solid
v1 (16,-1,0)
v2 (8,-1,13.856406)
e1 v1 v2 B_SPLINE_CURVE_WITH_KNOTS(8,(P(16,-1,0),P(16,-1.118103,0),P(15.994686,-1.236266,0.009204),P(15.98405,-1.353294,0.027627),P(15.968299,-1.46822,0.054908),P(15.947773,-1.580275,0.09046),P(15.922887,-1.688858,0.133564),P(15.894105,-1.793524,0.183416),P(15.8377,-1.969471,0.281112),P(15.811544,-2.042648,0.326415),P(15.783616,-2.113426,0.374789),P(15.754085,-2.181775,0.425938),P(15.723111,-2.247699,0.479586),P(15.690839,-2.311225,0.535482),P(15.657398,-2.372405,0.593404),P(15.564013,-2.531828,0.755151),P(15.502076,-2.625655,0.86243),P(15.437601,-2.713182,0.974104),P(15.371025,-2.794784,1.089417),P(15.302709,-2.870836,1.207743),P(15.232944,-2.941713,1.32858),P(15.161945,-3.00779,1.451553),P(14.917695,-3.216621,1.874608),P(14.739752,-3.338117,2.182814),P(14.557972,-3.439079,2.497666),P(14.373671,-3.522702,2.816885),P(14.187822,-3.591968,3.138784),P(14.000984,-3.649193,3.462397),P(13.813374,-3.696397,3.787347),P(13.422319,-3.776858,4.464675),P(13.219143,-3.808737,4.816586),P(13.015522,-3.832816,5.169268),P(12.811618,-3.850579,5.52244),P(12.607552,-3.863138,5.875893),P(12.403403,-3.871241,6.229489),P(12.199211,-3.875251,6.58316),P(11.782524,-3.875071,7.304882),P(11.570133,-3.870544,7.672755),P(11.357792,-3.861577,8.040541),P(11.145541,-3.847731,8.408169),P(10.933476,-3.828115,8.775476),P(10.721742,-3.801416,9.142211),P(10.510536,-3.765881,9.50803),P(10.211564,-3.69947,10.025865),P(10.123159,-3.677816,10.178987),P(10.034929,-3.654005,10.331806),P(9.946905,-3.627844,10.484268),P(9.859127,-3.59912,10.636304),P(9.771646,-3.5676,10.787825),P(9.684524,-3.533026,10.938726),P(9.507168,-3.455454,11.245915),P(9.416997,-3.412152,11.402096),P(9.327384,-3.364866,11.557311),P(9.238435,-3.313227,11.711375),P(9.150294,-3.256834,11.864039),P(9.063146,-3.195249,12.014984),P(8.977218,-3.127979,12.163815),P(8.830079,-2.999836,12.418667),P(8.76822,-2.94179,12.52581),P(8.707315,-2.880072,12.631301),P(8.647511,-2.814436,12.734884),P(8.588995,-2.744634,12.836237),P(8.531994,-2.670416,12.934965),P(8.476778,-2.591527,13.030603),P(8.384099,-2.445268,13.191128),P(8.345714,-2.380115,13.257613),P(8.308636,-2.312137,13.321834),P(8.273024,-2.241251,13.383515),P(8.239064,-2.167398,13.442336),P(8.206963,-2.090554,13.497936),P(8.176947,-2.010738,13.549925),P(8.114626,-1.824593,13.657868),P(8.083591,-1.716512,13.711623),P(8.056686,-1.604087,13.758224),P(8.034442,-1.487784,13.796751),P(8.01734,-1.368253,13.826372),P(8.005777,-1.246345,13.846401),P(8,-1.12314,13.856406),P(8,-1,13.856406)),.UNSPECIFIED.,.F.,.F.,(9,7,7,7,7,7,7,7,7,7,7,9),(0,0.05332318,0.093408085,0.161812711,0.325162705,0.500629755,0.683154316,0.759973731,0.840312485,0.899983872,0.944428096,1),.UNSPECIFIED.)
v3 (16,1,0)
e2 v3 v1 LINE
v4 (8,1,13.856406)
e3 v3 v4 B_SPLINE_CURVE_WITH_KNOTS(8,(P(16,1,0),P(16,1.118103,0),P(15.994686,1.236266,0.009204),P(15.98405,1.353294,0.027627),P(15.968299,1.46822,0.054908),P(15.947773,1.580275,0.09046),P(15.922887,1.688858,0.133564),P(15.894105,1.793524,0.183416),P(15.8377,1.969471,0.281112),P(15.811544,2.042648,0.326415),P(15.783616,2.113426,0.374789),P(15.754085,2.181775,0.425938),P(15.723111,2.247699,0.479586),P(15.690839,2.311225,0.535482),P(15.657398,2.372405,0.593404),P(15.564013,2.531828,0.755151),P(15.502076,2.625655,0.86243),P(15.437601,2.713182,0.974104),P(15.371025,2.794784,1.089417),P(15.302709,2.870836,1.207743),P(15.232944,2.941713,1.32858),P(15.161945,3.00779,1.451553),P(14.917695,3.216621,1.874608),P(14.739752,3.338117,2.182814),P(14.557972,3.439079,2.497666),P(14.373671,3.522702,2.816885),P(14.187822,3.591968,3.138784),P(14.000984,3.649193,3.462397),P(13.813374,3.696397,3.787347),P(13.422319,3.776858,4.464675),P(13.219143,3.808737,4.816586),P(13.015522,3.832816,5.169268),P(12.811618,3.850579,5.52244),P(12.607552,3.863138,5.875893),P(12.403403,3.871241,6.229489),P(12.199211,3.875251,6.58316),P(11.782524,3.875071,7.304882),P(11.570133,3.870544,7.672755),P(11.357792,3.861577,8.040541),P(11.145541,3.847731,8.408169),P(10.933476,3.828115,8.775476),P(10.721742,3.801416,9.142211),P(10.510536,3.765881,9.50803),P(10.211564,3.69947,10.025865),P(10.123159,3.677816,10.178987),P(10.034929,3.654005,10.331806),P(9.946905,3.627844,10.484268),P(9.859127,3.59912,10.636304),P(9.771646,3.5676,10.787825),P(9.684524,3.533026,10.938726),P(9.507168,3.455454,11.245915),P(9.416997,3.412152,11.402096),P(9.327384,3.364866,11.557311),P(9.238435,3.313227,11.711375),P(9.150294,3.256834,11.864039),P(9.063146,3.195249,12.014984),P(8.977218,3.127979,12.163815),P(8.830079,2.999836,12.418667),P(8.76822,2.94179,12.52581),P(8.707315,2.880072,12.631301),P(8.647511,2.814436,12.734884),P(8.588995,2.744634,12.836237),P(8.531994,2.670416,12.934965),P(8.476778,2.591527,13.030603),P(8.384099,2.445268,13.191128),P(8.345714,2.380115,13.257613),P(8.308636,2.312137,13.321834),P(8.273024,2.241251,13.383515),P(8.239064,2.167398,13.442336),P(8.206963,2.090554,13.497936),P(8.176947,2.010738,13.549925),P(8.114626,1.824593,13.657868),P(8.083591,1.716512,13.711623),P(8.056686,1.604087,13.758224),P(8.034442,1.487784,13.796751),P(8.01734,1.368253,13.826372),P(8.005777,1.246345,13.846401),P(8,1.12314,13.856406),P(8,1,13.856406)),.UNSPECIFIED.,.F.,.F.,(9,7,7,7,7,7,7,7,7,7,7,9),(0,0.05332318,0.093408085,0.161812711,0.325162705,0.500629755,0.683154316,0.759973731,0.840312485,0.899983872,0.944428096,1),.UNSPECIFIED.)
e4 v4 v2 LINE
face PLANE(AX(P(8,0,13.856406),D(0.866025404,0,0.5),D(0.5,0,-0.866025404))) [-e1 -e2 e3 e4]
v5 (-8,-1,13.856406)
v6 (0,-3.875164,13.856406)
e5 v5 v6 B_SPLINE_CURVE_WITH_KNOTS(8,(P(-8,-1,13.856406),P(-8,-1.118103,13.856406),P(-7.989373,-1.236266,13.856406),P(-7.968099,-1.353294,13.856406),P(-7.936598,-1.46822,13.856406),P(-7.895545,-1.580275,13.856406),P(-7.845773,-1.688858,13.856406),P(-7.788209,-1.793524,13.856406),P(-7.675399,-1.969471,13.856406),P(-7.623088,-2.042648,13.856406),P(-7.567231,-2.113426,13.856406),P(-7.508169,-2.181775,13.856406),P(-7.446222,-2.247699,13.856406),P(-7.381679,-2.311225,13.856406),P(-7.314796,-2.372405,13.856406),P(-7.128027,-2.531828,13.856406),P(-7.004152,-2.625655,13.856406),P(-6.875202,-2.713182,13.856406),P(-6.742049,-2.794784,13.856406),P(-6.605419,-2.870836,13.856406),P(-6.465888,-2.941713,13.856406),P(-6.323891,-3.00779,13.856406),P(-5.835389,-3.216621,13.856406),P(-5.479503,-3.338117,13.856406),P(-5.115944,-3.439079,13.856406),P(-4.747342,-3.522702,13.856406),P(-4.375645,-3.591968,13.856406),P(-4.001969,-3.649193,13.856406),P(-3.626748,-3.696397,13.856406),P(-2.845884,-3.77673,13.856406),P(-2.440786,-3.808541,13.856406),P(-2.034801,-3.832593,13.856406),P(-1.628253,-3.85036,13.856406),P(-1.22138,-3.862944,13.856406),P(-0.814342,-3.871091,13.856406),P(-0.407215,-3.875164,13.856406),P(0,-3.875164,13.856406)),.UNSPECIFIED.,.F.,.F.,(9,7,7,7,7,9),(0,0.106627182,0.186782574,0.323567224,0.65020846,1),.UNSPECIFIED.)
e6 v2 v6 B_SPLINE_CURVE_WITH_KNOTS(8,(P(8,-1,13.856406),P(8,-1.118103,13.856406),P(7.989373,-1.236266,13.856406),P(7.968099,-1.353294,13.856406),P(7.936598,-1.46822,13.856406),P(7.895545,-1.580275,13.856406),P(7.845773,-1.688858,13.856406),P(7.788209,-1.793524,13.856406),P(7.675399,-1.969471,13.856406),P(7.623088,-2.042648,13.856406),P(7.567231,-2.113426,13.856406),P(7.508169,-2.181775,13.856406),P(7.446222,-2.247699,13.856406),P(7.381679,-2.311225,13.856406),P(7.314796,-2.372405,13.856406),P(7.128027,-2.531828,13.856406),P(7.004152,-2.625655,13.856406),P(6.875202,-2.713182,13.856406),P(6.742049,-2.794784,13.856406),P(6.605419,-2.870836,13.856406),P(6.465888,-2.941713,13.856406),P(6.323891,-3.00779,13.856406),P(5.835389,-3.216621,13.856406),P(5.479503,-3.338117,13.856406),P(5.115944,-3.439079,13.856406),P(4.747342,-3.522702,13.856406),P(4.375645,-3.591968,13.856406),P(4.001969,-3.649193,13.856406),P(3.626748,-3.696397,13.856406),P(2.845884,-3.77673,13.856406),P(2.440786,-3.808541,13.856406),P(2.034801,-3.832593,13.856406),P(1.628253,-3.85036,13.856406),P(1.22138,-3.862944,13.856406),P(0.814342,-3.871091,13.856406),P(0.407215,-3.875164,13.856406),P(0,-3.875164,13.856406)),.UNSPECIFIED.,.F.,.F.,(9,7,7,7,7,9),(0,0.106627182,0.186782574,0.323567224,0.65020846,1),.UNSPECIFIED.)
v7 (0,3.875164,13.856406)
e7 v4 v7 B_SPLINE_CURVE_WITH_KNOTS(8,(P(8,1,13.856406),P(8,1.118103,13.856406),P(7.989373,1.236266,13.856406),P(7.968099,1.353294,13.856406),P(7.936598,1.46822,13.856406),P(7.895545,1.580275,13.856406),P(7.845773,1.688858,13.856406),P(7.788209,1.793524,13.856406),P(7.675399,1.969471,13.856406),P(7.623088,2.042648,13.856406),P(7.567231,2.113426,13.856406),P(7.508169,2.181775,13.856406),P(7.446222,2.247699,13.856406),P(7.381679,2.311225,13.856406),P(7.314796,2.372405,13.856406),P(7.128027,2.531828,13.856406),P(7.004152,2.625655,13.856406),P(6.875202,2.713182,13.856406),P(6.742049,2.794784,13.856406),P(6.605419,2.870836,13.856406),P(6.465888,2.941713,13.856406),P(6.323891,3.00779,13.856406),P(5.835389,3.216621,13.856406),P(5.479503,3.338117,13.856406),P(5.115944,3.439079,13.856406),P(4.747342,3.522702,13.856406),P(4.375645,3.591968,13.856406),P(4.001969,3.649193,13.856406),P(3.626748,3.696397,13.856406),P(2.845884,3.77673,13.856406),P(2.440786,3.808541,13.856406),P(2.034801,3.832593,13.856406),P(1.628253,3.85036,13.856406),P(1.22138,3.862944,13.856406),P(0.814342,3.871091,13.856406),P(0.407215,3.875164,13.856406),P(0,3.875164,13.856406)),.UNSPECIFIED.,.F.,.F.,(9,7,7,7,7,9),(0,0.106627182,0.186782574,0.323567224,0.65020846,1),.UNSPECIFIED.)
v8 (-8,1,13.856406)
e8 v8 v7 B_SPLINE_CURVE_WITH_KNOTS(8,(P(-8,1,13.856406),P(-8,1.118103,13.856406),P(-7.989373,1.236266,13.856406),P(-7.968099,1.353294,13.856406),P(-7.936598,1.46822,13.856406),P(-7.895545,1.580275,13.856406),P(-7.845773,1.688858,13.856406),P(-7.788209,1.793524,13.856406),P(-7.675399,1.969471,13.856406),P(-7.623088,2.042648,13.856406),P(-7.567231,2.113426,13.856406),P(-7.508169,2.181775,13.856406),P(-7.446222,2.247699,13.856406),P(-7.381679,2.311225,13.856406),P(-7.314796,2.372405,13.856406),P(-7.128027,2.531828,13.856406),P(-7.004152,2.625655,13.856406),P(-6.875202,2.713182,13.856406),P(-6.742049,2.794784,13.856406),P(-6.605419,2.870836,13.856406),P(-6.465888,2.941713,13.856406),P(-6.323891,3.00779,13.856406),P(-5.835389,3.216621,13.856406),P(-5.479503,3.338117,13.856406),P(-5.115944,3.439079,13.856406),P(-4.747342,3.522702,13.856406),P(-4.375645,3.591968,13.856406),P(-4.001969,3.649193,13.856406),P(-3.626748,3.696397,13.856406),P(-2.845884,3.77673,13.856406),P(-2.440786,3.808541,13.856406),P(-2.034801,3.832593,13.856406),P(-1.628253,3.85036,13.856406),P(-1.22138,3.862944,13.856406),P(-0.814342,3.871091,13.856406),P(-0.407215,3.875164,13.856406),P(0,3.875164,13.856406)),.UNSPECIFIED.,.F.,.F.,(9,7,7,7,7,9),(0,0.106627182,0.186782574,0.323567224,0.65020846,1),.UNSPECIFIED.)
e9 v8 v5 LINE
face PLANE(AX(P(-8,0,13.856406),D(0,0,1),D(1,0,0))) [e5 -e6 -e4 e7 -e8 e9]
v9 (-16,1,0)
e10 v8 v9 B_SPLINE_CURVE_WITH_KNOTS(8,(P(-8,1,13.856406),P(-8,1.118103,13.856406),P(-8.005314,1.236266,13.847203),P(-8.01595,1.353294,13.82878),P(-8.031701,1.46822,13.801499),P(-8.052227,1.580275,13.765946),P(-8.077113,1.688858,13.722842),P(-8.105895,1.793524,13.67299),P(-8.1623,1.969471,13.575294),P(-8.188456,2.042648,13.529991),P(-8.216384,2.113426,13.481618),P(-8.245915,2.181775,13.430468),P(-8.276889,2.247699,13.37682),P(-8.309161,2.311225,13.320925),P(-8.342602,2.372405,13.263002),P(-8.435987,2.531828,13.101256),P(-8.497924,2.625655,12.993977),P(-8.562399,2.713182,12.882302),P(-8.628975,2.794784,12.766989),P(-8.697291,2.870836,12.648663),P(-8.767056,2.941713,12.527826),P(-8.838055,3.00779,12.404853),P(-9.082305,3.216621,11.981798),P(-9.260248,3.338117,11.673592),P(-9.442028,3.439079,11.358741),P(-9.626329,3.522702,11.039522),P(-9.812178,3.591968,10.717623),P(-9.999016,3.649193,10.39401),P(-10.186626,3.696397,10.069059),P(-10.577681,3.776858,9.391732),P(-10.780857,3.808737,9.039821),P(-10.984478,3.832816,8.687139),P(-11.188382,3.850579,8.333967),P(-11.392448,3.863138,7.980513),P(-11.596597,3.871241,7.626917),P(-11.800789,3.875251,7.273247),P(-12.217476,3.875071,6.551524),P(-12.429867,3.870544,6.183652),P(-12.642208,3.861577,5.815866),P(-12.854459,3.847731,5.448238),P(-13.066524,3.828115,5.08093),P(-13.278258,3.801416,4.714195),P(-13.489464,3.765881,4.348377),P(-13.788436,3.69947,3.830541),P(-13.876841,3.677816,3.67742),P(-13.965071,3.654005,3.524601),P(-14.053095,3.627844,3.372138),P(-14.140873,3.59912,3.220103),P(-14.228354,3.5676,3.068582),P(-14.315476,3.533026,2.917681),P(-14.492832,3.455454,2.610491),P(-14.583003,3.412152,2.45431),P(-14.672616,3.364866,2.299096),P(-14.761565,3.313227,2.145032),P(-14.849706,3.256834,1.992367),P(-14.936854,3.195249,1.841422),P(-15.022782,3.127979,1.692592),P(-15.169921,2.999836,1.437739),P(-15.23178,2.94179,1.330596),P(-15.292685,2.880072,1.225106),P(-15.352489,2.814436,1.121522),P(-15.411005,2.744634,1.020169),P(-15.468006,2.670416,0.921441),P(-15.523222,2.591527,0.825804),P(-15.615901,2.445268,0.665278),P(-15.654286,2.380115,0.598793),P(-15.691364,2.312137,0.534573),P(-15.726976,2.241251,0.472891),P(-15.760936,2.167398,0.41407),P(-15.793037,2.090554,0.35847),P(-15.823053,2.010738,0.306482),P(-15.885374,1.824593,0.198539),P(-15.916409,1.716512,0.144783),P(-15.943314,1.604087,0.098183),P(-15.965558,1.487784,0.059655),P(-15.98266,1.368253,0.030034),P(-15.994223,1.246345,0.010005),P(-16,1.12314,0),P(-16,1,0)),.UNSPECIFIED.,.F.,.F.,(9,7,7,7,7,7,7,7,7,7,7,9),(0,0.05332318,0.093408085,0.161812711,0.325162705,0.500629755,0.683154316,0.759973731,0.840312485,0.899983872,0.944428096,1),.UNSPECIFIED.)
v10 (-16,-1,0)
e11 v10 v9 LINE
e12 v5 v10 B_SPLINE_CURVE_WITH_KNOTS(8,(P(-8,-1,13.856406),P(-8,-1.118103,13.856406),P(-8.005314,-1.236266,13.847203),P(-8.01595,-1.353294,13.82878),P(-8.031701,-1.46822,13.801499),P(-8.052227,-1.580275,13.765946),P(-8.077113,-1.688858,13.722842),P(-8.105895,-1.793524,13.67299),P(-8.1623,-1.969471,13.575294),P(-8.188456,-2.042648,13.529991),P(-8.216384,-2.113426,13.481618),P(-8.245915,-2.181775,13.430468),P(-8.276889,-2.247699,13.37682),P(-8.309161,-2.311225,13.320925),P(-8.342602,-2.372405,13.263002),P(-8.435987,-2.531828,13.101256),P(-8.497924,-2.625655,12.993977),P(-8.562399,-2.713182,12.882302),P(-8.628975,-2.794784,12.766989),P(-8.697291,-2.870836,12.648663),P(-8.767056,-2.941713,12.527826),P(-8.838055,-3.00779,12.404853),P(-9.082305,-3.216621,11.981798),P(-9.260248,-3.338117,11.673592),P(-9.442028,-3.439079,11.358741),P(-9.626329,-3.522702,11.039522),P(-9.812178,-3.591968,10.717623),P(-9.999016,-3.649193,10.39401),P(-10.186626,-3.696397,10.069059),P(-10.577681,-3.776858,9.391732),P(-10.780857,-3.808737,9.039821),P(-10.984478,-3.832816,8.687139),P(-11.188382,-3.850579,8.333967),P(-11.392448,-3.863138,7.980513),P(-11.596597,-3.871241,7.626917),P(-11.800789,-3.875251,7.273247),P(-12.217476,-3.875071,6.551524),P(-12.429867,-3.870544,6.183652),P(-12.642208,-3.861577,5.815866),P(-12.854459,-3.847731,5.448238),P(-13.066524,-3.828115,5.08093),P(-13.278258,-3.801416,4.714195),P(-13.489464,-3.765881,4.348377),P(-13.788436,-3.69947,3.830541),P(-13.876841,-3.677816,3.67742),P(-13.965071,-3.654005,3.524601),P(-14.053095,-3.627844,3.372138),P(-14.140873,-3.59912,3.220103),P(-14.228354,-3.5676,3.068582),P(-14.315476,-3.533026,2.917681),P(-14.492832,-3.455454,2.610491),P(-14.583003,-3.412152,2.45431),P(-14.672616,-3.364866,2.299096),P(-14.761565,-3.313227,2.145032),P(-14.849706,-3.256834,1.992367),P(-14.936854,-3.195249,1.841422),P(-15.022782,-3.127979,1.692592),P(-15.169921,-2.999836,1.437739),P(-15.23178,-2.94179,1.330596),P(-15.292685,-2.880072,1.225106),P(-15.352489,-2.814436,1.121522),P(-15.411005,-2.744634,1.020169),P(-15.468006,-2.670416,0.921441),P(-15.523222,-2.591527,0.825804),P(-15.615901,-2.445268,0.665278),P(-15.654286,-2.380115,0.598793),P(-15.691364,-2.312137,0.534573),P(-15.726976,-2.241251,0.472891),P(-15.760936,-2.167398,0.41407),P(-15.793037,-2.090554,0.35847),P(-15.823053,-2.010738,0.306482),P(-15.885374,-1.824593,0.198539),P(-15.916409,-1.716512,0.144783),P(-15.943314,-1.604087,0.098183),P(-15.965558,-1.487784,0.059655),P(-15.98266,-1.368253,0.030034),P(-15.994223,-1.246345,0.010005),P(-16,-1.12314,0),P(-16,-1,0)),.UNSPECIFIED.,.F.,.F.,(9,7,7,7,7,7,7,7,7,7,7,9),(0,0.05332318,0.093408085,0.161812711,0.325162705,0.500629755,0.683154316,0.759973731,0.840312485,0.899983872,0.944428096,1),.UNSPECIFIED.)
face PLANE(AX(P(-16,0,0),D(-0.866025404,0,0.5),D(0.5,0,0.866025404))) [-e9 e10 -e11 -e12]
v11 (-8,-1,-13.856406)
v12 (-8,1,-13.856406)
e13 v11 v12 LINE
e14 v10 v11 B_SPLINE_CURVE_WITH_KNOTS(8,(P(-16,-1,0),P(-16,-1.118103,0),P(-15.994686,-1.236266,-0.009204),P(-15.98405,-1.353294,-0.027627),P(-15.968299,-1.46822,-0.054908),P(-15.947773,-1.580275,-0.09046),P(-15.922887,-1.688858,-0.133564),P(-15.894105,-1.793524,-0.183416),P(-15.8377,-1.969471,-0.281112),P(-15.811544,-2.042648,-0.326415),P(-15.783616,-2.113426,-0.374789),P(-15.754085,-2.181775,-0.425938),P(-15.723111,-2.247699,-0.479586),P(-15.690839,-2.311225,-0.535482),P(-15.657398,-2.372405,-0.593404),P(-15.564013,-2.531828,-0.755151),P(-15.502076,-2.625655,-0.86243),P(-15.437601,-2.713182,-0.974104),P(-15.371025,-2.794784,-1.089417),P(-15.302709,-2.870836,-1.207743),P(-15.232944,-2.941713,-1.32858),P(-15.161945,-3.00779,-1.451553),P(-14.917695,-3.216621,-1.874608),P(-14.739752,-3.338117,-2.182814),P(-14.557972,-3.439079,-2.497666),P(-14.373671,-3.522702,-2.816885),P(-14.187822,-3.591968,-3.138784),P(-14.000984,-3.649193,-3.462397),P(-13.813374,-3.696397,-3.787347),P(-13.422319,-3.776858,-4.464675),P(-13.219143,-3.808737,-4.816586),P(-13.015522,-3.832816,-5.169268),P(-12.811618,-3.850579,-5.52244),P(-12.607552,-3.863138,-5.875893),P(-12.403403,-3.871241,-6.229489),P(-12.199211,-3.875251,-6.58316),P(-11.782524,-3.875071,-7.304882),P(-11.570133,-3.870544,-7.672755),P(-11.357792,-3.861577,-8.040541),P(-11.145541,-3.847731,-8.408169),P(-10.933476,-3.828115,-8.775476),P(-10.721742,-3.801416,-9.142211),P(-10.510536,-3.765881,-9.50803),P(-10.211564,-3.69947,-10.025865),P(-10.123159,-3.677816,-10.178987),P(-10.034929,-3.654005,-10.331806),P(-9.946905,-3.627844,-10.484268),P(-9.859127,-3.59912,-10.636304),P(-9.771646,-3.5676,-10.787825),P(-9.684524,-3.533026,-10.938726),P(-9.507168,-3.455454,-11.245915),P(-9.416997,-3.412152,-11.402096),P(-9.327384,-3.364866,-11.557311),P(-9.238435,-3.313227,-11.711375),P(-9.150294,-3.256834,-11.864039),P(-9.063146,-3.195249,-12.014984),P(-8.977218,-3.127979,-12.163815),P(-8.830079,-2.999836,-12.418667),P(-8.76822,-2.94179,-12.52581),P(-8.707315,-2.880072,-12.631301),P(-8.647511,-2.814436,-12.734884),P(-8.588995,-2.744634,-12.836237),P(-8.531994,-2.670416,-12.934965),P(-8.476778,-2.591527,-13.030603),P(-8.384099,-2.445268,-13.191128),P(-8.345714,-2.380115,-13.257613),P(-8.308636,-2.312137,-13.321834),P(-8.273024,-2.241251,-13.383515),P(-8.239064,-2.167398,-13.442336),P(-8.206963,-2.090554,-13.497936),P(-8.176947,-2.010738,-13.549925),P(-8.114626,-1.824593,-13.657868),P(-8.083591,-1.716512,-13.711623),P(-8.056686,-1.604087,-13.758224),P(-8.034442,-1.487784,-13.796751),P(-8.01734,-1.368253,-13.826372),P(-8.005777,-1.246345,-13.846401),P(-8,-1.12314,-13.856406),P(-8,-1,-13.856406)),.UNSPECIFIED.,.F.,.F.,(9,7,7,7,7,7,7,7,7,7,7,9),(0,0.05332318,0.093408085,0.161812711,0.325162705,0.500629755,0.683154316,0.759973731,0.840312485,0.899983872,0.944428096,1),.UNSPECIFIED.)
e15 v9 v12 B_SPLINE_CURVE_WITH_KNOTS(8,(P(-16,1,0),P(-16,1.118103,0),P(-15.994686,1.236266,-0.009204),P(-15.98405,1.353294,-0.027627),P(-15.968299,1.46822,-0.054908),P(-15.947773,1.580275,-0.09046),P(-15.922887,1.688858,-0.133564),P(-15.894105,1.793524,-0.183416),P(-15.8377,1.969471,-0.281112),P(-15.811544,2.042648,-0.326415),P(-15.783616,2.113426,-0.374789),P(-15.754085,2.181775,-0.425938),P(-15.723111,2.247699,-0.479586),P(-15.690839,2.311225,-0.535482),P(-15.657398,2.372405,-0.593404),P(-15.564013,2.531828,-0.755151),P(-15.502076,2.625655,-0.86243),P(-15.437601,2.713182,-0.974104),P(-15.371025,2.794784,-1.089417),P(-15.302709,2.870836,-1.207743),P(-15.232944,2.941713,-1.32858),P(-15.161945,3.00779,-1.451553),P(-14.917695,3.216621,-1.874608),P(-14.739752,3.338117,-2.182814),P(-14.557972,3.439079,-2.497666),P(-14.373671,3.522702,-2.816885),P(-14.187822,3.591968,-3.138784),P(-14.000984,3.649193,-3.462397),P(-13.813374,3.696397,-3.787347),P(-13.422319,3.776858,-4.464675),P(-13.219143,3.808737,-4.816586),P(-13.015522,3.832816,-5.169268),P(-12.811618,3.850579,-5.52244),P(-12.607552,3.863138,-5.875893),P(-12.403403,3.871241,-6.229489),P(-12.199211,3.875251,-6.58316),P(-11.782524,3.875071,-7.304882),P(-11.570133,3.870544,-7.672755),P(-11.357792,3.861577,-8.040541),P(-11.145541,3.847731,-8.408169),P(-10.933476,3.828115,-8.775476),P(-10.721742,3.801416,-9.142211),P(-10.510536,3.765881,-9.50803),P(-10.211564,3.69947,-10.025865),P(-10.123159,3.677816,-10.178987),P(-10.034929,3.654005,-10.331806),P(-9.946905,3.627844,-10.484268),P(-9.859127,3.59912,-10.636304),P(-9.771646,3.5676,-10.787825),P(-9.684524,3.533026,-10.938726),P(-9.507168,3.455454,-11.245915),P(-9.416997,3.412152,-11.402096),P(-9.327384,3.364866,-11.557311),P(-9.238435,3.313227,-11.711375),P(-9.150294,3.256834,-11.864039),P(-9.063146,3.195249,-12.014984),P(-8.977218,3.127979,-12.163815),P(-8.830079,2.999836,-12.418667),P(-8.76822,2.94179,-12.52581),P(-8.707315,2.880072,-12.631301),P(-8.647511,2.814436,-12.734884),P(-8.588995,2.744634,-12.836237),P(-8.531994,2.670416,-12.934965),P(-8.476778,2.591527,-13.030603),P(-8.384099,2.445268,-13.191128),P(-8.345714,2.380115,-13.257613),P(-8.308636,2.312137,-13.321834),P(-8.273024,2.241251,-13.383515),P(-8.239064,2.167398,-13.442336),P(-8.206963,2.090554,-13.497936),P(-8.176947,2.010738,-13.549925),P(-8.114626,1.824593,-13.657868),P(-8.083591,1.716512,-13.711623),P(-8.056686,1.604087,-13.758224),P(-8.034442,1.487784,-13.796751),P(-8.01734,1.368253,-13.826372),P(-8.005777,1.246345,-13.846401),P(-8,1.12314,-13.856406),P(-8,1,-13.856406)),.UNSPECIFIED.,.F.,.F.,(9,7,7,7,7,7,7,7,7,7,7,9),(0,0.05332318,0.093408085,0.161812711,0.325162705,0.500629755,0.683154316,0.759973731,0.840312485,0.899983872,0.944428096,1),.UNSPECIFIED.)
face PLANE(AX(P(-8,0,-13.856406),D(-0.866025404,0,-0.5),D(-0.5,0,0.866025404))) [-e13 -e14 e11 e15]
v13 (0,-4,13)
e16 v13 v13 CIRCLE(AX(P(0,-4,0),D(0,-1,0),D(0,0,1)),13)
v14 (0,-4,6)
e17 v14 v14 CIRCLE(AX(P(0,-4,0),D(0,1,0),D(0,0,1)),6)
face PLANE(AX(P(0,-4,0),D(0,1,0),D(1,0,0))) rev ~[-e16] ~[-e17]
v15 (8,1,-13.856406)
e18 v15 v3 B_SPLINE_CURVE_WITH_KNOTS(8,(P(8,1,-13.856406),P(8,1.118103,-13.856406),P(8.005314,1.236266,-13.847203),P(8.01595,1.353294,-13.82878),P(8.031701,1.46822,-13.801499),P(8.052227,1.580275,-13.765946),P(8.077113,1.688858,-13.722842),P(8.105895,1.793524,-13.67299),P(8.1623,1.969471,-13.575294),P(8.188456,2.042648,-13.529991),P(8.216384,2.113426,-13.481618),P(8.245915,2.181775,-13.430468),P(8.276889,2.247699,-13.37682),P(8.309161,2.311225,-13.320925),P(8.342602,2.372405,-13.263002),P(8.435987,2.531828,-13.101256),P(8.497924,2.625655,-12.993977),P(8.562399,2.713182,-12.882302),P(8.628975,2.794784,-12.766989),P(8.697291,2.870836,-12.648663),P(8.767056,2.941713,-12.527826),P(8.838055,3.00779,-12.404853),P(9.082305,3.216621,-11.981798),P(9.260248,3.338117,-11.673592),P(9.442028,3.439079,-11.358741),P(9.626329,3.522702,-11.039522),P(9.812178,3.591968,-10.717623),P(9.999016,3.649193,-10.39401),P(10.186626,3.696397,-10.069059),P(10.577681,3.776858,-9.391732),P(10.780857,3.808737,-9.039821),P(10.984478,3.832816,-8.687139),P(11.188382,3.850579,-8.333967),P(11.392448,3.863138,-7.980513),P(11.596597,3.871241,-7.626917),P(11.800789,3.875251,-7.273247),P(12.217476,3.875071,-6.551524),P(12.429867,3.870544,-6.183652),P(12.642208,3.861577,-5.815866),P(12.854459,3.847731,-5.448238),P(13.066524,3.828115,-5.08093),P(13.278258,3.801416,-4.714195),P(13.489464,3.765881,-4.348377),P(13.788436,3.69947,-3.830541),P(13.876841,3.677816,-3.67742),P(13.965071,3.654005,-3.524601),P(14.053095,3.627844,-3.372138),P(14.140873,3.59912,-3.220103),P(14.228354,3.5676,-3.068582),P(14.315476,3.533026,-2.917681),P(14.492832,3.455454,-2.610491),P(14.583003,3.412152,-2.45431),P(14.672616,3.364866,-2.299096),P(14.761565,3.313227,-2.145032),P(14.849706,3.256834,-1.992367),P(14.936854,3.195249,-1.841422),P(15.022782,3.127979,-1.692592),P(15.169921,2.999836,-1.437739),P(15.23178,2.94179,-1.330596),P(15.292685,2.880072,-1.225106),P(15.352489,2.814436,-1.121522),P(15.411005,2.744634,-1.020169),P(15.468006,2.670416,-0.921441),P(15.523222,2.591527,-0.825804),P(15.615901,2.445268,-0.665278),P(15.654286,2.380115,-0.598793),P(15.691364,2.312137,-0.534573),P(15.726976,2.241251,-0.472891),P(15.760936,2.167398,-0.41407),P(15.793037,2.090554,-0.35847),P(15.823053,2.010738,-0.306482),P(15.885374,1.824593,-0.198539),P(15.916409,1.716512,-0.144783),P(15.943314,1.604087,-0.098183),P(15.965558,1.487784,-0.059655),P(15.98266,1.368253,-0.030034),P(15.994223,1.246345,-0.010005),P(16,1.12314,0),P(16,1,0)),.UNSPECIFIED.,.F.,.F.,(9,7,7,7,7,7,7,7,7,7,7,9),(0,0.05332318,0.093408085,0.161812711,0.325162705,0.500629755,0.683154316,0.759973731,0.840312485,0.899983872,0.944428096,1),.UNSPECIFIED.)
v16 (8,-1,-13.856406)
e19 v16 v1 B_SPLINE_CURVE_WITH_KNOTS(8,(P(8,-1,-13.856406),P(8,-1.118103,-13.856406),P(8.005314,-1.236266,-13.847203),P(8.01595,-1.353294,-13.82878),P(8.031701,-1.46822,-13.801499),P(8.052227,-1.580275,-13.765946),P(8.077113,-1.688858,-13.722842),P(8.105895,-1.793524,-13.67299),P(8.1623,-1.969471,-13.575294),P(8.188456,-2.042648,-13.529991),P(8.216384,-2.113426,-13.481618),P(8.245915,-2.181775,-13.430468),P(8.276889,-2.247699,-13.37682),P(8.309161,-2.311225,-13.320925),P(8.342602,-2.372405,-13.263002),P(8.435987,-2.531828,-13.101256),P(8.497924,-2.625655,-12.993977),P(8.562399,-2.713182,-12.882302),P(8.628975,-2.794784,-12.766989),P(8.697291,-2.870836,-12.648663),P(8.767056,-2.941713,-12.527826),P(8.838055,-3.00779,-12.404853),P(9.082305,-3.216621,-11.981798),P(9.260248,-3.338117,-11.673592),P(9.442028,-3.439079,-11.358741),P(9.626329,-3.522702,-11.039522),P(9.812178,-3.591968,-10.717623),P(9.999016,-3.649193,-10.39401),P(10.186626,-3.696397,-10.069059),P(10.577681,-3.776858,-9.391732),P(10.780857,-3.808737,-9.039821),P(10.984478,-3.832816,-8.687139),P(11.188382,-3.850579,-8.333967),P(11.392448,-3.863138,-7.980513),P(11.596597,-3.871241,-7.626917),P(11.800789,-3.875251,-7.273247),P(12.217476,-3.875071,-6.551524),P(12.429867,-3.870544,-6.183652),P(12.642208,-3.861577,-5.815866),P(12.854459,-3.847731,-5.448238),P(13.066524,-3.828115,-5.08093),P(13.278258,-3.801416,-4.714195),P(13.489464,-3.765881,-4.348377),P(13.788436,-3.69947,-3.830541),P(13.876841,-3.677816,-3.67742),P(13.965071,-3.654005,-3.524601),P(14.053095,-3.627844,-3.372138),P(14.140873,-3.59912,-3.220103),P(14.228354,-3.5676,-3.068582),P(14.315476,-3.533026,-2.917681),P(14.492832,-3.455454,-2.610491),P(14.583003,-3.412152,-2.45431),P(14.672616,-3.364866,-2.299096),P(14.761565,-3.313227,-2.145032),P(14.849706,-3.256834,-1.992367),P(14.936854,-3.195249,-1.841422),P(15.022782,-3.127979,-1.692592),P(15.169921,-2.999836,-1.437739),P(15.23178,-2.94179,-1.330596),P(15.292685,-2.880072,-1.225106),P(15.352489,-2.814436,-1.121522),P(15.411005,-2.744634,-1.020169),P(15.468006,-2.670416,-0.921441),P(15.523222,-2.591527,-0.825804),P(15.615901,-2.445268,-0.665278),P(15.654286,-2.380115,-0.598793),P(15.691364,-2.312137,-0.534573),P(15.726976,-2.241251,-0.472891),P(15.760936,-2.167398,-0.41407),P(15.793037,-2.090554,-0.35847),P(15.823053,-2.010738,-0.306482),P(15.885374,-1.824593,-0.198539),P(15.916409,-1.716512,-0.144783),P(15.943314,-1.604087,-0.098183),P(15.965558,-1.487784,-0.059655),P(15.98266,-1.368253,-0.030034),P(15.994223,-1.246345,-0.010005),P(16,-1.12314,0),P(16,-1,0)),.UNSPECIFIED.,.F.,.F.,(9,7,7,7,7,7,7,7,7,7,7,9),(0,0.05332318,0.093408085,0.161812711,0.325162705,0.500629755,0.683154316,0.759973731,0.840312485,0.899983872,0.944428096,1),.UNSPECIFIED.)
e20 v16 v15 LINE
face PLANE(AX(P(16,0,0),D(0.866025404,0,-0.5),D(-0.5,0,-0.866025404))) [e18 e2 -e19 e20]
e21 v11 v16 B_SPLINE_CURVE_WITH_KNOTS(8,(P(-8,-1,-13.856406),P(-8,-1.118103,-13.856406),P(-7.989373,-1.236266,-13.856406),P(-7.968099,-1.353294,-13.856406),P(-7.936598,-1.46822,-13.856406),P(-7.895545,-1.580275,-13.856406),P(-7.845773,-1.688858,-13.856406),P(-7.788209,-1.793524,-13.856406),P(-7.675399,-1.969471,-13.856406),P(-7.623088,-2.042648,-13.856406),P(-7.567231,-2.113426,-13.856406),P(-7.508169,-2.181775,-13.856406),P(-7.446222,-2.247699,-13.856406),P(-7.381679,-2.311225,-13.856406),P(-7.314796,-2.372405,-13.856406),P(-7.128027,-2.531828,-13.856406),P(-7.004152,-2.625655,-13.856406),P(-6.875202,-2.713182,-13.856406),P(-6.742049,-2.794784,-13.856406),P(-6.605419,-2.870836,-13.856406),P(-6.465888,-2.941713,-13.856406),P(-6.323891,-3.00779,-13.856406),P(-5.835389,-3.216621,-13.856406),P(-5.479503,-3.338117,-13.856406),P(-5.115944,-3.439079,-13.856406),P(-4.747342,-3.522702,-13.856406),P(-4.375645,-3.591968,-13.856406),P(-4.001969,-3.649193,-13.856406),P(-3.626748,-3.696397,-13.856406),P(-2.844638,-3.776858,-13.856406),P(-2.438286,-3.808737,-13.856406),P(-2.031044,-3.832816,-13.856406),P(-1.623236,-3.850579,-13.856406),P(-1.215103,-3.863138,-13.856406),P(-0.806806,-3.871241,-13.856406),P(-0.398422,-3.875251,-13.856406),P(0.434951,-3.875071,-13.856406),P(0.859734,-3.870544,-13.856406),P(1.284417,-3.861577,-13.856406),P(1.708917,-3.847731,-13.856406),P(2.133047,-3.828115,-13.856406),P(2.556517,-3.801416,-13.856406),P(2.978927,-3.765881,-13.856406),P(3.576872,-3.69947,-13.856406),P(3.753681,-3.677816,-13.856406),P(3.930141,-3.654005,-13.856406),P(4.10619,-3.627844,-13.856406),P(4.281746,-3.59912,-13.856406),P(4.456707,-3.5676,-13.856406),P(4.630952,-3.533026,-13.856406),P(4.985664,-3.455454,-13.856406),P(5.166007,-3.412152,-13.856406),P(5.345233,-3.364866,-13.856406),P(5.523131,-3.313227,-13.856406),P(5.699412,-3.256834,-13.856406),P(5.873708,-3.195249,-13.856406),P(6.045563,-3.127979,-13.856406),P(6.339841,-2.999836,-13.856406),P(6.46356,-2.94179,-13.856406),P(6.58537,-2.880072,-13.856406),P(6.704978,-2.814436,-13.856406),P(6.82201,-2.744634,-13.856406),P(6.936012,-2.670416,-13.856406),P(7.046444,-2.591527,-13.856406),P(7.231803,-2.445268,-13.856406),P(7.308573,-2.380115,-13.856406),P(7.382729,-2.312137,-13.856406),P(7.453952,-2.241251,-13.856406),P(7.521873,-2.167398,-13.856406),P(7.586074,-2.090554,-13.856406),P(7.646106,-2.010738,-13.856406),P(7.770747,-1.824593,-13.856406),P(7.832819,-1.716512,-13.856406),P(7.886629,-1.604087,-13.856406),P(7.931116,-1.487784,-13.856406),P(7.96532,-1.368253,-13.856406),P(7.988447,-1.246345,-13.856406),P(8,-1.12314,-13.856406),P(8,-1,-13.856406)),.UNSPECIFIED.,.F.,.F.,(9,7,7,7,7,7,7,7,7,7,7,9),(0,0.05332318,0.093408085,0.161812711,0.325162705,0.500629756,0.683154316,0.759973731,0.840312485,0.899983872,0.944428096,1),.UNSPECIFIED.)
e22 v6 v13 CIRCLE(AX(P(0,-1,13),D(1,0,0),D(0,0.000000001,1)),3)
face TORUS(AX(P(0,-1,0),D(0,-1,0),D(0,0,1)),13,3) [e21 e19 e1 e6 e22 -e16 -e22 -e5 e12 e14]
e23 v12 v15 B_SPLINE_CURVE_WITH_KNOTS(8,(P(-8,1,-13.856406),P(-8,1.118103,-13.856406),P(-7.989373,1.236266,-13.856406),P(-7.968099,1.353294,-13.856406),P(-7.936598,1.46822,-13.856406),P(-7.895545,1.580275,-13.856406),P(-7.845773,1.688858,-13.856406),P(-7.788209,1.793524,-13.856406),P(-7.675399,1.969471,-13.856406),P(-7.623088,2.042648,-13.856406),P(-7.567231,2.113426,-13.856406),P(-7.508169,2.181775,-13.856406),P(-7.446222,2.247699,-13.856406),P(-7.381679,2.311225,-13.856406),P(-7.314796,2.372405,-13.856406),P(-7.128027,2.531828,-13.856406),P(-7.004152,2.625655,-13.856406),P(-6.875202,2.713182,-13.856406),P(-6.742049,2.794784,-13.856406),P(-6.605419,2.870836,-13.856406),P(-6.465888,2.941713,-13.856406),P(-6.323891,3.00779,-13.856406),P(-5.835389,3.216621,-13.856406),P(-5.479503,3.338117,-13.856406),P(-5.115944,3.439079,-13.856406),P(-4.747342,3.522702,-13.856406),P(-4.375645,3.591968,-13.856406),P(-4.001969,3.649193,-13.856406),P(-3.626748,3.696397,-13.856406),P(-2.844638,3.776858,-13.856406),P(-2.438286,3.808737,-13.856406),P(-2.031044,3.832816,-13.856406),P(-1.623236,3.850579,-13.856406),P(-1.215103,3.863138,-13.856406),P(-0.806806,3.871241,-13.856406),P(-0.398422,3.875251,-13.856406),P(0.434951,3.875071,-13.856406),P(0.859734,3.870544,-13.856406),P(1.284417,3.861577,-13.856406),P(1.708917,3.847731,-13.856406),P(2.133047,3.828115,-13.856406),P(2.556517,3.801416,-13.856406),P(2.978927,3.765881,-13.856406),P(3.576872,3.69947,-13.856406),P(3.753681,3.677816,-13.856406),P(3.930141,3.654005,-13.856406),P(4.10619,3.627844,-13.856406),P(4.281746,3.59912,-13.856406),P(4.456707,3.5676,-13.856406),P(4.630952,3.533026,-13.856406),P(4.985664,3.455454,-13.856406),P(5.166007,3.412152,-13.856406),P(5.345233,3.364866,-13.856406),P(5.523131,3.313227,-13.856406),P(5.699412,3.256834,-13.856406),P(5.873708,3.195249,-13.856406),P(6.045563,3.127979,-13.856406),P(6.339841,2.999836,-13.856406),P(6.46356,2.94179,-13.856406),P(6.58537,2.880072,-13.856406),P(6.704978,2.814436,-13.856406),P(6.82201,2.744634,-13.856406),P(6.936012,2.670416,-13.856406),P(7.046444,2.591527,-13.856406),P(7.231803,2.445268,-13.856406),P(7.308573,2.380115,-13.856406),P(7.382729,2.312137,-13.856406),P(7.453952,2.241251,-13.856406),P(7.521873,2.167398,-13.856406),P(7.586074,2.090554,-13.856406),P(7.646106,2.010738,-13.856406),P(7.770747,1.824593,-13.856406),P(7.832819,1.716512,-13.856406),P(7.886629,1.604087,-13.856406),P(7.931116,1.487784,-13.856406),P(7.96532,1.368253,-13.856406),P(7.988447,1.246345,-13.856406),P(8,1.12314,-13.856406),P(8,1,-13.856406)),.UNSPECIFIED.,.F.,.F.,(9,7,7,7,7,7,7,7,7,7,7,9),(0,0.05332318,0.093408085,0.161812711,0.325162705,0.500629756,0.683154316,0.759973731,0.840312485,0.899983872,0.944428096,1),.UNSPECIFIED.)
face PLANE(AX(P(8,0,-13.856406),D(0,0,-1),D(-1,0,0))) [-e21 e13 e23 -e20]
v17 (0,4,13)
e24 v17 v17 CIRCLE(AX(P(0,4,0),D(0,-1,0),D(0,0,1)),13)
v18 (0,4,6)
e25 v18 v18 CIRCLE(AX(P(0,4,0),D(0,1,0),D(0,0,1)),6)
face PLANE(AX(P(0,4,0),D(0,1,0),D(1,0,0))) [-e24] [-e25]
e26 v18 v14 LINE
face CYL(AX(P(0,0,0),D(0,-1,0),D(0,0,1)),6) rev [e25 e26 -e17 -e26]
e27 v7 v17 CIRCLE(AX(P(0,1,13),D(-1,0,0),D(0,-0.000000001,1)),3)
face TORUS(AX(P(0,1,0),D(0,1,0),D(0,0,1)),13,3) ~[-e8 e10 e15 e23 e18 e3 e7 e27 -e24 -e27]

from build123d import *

# Parameters (mm, degrees)
SKETCH1_R           = 6
BOSS_EXTRUDE1_DEPTH = 4


with BuildPart() as part:
    # Sketch1 → Boss-Extrude1 (new, symmetric)
    with BuildSketch(Plane(origin=(0, 0, 0), x_dir=(1, 0, 0), z_dir=(0, 1, 0))):
        Polygon((16, 0), (8, 13.856406461), (-8, 13.856406461), (-16, 0), (-8, -13.856406461), (8, -13.856406461), align=None)
        with Locations(Location((0, 0, 0), (0, 0, 270))):
            Circle(SKETCH1_R, mode=Mode.SUBTRACT)
    extrude(amount=BOSS_EXTRUDE1_DEPTH, both=True)

    # Sketch2 → Cut-Revolve1 (revolve, cut)
    with BuildSketch(Plane.XY, mode=Mode.PRIVATE) as cut_revolve1_sk:
        with BuildLine():
            Line((13, 4), (16, 4))
            Line((16, 4), (16, 1))
            ThreePointArc((16, 1), (15.121320344, 3.121320344), (13, 4))
        make_face()
        with BuildLine():
            Line((13, -4), (16, -4))
            Line((16, -4), (16, -1))
            ThreePointArc((16, -1), (15.121320344, -3.121320344), (13, -4))
        make_face()
    revolve(cut_revolve1_sk.sketch.rotate(Axis((0, 9.369554111, 0), (0, -1, 0)), 90), axis=Axis((0, 9.369554111, 0), (0, -1, 0)), mode=Mode.SUBTRACT)


solid = part.part
